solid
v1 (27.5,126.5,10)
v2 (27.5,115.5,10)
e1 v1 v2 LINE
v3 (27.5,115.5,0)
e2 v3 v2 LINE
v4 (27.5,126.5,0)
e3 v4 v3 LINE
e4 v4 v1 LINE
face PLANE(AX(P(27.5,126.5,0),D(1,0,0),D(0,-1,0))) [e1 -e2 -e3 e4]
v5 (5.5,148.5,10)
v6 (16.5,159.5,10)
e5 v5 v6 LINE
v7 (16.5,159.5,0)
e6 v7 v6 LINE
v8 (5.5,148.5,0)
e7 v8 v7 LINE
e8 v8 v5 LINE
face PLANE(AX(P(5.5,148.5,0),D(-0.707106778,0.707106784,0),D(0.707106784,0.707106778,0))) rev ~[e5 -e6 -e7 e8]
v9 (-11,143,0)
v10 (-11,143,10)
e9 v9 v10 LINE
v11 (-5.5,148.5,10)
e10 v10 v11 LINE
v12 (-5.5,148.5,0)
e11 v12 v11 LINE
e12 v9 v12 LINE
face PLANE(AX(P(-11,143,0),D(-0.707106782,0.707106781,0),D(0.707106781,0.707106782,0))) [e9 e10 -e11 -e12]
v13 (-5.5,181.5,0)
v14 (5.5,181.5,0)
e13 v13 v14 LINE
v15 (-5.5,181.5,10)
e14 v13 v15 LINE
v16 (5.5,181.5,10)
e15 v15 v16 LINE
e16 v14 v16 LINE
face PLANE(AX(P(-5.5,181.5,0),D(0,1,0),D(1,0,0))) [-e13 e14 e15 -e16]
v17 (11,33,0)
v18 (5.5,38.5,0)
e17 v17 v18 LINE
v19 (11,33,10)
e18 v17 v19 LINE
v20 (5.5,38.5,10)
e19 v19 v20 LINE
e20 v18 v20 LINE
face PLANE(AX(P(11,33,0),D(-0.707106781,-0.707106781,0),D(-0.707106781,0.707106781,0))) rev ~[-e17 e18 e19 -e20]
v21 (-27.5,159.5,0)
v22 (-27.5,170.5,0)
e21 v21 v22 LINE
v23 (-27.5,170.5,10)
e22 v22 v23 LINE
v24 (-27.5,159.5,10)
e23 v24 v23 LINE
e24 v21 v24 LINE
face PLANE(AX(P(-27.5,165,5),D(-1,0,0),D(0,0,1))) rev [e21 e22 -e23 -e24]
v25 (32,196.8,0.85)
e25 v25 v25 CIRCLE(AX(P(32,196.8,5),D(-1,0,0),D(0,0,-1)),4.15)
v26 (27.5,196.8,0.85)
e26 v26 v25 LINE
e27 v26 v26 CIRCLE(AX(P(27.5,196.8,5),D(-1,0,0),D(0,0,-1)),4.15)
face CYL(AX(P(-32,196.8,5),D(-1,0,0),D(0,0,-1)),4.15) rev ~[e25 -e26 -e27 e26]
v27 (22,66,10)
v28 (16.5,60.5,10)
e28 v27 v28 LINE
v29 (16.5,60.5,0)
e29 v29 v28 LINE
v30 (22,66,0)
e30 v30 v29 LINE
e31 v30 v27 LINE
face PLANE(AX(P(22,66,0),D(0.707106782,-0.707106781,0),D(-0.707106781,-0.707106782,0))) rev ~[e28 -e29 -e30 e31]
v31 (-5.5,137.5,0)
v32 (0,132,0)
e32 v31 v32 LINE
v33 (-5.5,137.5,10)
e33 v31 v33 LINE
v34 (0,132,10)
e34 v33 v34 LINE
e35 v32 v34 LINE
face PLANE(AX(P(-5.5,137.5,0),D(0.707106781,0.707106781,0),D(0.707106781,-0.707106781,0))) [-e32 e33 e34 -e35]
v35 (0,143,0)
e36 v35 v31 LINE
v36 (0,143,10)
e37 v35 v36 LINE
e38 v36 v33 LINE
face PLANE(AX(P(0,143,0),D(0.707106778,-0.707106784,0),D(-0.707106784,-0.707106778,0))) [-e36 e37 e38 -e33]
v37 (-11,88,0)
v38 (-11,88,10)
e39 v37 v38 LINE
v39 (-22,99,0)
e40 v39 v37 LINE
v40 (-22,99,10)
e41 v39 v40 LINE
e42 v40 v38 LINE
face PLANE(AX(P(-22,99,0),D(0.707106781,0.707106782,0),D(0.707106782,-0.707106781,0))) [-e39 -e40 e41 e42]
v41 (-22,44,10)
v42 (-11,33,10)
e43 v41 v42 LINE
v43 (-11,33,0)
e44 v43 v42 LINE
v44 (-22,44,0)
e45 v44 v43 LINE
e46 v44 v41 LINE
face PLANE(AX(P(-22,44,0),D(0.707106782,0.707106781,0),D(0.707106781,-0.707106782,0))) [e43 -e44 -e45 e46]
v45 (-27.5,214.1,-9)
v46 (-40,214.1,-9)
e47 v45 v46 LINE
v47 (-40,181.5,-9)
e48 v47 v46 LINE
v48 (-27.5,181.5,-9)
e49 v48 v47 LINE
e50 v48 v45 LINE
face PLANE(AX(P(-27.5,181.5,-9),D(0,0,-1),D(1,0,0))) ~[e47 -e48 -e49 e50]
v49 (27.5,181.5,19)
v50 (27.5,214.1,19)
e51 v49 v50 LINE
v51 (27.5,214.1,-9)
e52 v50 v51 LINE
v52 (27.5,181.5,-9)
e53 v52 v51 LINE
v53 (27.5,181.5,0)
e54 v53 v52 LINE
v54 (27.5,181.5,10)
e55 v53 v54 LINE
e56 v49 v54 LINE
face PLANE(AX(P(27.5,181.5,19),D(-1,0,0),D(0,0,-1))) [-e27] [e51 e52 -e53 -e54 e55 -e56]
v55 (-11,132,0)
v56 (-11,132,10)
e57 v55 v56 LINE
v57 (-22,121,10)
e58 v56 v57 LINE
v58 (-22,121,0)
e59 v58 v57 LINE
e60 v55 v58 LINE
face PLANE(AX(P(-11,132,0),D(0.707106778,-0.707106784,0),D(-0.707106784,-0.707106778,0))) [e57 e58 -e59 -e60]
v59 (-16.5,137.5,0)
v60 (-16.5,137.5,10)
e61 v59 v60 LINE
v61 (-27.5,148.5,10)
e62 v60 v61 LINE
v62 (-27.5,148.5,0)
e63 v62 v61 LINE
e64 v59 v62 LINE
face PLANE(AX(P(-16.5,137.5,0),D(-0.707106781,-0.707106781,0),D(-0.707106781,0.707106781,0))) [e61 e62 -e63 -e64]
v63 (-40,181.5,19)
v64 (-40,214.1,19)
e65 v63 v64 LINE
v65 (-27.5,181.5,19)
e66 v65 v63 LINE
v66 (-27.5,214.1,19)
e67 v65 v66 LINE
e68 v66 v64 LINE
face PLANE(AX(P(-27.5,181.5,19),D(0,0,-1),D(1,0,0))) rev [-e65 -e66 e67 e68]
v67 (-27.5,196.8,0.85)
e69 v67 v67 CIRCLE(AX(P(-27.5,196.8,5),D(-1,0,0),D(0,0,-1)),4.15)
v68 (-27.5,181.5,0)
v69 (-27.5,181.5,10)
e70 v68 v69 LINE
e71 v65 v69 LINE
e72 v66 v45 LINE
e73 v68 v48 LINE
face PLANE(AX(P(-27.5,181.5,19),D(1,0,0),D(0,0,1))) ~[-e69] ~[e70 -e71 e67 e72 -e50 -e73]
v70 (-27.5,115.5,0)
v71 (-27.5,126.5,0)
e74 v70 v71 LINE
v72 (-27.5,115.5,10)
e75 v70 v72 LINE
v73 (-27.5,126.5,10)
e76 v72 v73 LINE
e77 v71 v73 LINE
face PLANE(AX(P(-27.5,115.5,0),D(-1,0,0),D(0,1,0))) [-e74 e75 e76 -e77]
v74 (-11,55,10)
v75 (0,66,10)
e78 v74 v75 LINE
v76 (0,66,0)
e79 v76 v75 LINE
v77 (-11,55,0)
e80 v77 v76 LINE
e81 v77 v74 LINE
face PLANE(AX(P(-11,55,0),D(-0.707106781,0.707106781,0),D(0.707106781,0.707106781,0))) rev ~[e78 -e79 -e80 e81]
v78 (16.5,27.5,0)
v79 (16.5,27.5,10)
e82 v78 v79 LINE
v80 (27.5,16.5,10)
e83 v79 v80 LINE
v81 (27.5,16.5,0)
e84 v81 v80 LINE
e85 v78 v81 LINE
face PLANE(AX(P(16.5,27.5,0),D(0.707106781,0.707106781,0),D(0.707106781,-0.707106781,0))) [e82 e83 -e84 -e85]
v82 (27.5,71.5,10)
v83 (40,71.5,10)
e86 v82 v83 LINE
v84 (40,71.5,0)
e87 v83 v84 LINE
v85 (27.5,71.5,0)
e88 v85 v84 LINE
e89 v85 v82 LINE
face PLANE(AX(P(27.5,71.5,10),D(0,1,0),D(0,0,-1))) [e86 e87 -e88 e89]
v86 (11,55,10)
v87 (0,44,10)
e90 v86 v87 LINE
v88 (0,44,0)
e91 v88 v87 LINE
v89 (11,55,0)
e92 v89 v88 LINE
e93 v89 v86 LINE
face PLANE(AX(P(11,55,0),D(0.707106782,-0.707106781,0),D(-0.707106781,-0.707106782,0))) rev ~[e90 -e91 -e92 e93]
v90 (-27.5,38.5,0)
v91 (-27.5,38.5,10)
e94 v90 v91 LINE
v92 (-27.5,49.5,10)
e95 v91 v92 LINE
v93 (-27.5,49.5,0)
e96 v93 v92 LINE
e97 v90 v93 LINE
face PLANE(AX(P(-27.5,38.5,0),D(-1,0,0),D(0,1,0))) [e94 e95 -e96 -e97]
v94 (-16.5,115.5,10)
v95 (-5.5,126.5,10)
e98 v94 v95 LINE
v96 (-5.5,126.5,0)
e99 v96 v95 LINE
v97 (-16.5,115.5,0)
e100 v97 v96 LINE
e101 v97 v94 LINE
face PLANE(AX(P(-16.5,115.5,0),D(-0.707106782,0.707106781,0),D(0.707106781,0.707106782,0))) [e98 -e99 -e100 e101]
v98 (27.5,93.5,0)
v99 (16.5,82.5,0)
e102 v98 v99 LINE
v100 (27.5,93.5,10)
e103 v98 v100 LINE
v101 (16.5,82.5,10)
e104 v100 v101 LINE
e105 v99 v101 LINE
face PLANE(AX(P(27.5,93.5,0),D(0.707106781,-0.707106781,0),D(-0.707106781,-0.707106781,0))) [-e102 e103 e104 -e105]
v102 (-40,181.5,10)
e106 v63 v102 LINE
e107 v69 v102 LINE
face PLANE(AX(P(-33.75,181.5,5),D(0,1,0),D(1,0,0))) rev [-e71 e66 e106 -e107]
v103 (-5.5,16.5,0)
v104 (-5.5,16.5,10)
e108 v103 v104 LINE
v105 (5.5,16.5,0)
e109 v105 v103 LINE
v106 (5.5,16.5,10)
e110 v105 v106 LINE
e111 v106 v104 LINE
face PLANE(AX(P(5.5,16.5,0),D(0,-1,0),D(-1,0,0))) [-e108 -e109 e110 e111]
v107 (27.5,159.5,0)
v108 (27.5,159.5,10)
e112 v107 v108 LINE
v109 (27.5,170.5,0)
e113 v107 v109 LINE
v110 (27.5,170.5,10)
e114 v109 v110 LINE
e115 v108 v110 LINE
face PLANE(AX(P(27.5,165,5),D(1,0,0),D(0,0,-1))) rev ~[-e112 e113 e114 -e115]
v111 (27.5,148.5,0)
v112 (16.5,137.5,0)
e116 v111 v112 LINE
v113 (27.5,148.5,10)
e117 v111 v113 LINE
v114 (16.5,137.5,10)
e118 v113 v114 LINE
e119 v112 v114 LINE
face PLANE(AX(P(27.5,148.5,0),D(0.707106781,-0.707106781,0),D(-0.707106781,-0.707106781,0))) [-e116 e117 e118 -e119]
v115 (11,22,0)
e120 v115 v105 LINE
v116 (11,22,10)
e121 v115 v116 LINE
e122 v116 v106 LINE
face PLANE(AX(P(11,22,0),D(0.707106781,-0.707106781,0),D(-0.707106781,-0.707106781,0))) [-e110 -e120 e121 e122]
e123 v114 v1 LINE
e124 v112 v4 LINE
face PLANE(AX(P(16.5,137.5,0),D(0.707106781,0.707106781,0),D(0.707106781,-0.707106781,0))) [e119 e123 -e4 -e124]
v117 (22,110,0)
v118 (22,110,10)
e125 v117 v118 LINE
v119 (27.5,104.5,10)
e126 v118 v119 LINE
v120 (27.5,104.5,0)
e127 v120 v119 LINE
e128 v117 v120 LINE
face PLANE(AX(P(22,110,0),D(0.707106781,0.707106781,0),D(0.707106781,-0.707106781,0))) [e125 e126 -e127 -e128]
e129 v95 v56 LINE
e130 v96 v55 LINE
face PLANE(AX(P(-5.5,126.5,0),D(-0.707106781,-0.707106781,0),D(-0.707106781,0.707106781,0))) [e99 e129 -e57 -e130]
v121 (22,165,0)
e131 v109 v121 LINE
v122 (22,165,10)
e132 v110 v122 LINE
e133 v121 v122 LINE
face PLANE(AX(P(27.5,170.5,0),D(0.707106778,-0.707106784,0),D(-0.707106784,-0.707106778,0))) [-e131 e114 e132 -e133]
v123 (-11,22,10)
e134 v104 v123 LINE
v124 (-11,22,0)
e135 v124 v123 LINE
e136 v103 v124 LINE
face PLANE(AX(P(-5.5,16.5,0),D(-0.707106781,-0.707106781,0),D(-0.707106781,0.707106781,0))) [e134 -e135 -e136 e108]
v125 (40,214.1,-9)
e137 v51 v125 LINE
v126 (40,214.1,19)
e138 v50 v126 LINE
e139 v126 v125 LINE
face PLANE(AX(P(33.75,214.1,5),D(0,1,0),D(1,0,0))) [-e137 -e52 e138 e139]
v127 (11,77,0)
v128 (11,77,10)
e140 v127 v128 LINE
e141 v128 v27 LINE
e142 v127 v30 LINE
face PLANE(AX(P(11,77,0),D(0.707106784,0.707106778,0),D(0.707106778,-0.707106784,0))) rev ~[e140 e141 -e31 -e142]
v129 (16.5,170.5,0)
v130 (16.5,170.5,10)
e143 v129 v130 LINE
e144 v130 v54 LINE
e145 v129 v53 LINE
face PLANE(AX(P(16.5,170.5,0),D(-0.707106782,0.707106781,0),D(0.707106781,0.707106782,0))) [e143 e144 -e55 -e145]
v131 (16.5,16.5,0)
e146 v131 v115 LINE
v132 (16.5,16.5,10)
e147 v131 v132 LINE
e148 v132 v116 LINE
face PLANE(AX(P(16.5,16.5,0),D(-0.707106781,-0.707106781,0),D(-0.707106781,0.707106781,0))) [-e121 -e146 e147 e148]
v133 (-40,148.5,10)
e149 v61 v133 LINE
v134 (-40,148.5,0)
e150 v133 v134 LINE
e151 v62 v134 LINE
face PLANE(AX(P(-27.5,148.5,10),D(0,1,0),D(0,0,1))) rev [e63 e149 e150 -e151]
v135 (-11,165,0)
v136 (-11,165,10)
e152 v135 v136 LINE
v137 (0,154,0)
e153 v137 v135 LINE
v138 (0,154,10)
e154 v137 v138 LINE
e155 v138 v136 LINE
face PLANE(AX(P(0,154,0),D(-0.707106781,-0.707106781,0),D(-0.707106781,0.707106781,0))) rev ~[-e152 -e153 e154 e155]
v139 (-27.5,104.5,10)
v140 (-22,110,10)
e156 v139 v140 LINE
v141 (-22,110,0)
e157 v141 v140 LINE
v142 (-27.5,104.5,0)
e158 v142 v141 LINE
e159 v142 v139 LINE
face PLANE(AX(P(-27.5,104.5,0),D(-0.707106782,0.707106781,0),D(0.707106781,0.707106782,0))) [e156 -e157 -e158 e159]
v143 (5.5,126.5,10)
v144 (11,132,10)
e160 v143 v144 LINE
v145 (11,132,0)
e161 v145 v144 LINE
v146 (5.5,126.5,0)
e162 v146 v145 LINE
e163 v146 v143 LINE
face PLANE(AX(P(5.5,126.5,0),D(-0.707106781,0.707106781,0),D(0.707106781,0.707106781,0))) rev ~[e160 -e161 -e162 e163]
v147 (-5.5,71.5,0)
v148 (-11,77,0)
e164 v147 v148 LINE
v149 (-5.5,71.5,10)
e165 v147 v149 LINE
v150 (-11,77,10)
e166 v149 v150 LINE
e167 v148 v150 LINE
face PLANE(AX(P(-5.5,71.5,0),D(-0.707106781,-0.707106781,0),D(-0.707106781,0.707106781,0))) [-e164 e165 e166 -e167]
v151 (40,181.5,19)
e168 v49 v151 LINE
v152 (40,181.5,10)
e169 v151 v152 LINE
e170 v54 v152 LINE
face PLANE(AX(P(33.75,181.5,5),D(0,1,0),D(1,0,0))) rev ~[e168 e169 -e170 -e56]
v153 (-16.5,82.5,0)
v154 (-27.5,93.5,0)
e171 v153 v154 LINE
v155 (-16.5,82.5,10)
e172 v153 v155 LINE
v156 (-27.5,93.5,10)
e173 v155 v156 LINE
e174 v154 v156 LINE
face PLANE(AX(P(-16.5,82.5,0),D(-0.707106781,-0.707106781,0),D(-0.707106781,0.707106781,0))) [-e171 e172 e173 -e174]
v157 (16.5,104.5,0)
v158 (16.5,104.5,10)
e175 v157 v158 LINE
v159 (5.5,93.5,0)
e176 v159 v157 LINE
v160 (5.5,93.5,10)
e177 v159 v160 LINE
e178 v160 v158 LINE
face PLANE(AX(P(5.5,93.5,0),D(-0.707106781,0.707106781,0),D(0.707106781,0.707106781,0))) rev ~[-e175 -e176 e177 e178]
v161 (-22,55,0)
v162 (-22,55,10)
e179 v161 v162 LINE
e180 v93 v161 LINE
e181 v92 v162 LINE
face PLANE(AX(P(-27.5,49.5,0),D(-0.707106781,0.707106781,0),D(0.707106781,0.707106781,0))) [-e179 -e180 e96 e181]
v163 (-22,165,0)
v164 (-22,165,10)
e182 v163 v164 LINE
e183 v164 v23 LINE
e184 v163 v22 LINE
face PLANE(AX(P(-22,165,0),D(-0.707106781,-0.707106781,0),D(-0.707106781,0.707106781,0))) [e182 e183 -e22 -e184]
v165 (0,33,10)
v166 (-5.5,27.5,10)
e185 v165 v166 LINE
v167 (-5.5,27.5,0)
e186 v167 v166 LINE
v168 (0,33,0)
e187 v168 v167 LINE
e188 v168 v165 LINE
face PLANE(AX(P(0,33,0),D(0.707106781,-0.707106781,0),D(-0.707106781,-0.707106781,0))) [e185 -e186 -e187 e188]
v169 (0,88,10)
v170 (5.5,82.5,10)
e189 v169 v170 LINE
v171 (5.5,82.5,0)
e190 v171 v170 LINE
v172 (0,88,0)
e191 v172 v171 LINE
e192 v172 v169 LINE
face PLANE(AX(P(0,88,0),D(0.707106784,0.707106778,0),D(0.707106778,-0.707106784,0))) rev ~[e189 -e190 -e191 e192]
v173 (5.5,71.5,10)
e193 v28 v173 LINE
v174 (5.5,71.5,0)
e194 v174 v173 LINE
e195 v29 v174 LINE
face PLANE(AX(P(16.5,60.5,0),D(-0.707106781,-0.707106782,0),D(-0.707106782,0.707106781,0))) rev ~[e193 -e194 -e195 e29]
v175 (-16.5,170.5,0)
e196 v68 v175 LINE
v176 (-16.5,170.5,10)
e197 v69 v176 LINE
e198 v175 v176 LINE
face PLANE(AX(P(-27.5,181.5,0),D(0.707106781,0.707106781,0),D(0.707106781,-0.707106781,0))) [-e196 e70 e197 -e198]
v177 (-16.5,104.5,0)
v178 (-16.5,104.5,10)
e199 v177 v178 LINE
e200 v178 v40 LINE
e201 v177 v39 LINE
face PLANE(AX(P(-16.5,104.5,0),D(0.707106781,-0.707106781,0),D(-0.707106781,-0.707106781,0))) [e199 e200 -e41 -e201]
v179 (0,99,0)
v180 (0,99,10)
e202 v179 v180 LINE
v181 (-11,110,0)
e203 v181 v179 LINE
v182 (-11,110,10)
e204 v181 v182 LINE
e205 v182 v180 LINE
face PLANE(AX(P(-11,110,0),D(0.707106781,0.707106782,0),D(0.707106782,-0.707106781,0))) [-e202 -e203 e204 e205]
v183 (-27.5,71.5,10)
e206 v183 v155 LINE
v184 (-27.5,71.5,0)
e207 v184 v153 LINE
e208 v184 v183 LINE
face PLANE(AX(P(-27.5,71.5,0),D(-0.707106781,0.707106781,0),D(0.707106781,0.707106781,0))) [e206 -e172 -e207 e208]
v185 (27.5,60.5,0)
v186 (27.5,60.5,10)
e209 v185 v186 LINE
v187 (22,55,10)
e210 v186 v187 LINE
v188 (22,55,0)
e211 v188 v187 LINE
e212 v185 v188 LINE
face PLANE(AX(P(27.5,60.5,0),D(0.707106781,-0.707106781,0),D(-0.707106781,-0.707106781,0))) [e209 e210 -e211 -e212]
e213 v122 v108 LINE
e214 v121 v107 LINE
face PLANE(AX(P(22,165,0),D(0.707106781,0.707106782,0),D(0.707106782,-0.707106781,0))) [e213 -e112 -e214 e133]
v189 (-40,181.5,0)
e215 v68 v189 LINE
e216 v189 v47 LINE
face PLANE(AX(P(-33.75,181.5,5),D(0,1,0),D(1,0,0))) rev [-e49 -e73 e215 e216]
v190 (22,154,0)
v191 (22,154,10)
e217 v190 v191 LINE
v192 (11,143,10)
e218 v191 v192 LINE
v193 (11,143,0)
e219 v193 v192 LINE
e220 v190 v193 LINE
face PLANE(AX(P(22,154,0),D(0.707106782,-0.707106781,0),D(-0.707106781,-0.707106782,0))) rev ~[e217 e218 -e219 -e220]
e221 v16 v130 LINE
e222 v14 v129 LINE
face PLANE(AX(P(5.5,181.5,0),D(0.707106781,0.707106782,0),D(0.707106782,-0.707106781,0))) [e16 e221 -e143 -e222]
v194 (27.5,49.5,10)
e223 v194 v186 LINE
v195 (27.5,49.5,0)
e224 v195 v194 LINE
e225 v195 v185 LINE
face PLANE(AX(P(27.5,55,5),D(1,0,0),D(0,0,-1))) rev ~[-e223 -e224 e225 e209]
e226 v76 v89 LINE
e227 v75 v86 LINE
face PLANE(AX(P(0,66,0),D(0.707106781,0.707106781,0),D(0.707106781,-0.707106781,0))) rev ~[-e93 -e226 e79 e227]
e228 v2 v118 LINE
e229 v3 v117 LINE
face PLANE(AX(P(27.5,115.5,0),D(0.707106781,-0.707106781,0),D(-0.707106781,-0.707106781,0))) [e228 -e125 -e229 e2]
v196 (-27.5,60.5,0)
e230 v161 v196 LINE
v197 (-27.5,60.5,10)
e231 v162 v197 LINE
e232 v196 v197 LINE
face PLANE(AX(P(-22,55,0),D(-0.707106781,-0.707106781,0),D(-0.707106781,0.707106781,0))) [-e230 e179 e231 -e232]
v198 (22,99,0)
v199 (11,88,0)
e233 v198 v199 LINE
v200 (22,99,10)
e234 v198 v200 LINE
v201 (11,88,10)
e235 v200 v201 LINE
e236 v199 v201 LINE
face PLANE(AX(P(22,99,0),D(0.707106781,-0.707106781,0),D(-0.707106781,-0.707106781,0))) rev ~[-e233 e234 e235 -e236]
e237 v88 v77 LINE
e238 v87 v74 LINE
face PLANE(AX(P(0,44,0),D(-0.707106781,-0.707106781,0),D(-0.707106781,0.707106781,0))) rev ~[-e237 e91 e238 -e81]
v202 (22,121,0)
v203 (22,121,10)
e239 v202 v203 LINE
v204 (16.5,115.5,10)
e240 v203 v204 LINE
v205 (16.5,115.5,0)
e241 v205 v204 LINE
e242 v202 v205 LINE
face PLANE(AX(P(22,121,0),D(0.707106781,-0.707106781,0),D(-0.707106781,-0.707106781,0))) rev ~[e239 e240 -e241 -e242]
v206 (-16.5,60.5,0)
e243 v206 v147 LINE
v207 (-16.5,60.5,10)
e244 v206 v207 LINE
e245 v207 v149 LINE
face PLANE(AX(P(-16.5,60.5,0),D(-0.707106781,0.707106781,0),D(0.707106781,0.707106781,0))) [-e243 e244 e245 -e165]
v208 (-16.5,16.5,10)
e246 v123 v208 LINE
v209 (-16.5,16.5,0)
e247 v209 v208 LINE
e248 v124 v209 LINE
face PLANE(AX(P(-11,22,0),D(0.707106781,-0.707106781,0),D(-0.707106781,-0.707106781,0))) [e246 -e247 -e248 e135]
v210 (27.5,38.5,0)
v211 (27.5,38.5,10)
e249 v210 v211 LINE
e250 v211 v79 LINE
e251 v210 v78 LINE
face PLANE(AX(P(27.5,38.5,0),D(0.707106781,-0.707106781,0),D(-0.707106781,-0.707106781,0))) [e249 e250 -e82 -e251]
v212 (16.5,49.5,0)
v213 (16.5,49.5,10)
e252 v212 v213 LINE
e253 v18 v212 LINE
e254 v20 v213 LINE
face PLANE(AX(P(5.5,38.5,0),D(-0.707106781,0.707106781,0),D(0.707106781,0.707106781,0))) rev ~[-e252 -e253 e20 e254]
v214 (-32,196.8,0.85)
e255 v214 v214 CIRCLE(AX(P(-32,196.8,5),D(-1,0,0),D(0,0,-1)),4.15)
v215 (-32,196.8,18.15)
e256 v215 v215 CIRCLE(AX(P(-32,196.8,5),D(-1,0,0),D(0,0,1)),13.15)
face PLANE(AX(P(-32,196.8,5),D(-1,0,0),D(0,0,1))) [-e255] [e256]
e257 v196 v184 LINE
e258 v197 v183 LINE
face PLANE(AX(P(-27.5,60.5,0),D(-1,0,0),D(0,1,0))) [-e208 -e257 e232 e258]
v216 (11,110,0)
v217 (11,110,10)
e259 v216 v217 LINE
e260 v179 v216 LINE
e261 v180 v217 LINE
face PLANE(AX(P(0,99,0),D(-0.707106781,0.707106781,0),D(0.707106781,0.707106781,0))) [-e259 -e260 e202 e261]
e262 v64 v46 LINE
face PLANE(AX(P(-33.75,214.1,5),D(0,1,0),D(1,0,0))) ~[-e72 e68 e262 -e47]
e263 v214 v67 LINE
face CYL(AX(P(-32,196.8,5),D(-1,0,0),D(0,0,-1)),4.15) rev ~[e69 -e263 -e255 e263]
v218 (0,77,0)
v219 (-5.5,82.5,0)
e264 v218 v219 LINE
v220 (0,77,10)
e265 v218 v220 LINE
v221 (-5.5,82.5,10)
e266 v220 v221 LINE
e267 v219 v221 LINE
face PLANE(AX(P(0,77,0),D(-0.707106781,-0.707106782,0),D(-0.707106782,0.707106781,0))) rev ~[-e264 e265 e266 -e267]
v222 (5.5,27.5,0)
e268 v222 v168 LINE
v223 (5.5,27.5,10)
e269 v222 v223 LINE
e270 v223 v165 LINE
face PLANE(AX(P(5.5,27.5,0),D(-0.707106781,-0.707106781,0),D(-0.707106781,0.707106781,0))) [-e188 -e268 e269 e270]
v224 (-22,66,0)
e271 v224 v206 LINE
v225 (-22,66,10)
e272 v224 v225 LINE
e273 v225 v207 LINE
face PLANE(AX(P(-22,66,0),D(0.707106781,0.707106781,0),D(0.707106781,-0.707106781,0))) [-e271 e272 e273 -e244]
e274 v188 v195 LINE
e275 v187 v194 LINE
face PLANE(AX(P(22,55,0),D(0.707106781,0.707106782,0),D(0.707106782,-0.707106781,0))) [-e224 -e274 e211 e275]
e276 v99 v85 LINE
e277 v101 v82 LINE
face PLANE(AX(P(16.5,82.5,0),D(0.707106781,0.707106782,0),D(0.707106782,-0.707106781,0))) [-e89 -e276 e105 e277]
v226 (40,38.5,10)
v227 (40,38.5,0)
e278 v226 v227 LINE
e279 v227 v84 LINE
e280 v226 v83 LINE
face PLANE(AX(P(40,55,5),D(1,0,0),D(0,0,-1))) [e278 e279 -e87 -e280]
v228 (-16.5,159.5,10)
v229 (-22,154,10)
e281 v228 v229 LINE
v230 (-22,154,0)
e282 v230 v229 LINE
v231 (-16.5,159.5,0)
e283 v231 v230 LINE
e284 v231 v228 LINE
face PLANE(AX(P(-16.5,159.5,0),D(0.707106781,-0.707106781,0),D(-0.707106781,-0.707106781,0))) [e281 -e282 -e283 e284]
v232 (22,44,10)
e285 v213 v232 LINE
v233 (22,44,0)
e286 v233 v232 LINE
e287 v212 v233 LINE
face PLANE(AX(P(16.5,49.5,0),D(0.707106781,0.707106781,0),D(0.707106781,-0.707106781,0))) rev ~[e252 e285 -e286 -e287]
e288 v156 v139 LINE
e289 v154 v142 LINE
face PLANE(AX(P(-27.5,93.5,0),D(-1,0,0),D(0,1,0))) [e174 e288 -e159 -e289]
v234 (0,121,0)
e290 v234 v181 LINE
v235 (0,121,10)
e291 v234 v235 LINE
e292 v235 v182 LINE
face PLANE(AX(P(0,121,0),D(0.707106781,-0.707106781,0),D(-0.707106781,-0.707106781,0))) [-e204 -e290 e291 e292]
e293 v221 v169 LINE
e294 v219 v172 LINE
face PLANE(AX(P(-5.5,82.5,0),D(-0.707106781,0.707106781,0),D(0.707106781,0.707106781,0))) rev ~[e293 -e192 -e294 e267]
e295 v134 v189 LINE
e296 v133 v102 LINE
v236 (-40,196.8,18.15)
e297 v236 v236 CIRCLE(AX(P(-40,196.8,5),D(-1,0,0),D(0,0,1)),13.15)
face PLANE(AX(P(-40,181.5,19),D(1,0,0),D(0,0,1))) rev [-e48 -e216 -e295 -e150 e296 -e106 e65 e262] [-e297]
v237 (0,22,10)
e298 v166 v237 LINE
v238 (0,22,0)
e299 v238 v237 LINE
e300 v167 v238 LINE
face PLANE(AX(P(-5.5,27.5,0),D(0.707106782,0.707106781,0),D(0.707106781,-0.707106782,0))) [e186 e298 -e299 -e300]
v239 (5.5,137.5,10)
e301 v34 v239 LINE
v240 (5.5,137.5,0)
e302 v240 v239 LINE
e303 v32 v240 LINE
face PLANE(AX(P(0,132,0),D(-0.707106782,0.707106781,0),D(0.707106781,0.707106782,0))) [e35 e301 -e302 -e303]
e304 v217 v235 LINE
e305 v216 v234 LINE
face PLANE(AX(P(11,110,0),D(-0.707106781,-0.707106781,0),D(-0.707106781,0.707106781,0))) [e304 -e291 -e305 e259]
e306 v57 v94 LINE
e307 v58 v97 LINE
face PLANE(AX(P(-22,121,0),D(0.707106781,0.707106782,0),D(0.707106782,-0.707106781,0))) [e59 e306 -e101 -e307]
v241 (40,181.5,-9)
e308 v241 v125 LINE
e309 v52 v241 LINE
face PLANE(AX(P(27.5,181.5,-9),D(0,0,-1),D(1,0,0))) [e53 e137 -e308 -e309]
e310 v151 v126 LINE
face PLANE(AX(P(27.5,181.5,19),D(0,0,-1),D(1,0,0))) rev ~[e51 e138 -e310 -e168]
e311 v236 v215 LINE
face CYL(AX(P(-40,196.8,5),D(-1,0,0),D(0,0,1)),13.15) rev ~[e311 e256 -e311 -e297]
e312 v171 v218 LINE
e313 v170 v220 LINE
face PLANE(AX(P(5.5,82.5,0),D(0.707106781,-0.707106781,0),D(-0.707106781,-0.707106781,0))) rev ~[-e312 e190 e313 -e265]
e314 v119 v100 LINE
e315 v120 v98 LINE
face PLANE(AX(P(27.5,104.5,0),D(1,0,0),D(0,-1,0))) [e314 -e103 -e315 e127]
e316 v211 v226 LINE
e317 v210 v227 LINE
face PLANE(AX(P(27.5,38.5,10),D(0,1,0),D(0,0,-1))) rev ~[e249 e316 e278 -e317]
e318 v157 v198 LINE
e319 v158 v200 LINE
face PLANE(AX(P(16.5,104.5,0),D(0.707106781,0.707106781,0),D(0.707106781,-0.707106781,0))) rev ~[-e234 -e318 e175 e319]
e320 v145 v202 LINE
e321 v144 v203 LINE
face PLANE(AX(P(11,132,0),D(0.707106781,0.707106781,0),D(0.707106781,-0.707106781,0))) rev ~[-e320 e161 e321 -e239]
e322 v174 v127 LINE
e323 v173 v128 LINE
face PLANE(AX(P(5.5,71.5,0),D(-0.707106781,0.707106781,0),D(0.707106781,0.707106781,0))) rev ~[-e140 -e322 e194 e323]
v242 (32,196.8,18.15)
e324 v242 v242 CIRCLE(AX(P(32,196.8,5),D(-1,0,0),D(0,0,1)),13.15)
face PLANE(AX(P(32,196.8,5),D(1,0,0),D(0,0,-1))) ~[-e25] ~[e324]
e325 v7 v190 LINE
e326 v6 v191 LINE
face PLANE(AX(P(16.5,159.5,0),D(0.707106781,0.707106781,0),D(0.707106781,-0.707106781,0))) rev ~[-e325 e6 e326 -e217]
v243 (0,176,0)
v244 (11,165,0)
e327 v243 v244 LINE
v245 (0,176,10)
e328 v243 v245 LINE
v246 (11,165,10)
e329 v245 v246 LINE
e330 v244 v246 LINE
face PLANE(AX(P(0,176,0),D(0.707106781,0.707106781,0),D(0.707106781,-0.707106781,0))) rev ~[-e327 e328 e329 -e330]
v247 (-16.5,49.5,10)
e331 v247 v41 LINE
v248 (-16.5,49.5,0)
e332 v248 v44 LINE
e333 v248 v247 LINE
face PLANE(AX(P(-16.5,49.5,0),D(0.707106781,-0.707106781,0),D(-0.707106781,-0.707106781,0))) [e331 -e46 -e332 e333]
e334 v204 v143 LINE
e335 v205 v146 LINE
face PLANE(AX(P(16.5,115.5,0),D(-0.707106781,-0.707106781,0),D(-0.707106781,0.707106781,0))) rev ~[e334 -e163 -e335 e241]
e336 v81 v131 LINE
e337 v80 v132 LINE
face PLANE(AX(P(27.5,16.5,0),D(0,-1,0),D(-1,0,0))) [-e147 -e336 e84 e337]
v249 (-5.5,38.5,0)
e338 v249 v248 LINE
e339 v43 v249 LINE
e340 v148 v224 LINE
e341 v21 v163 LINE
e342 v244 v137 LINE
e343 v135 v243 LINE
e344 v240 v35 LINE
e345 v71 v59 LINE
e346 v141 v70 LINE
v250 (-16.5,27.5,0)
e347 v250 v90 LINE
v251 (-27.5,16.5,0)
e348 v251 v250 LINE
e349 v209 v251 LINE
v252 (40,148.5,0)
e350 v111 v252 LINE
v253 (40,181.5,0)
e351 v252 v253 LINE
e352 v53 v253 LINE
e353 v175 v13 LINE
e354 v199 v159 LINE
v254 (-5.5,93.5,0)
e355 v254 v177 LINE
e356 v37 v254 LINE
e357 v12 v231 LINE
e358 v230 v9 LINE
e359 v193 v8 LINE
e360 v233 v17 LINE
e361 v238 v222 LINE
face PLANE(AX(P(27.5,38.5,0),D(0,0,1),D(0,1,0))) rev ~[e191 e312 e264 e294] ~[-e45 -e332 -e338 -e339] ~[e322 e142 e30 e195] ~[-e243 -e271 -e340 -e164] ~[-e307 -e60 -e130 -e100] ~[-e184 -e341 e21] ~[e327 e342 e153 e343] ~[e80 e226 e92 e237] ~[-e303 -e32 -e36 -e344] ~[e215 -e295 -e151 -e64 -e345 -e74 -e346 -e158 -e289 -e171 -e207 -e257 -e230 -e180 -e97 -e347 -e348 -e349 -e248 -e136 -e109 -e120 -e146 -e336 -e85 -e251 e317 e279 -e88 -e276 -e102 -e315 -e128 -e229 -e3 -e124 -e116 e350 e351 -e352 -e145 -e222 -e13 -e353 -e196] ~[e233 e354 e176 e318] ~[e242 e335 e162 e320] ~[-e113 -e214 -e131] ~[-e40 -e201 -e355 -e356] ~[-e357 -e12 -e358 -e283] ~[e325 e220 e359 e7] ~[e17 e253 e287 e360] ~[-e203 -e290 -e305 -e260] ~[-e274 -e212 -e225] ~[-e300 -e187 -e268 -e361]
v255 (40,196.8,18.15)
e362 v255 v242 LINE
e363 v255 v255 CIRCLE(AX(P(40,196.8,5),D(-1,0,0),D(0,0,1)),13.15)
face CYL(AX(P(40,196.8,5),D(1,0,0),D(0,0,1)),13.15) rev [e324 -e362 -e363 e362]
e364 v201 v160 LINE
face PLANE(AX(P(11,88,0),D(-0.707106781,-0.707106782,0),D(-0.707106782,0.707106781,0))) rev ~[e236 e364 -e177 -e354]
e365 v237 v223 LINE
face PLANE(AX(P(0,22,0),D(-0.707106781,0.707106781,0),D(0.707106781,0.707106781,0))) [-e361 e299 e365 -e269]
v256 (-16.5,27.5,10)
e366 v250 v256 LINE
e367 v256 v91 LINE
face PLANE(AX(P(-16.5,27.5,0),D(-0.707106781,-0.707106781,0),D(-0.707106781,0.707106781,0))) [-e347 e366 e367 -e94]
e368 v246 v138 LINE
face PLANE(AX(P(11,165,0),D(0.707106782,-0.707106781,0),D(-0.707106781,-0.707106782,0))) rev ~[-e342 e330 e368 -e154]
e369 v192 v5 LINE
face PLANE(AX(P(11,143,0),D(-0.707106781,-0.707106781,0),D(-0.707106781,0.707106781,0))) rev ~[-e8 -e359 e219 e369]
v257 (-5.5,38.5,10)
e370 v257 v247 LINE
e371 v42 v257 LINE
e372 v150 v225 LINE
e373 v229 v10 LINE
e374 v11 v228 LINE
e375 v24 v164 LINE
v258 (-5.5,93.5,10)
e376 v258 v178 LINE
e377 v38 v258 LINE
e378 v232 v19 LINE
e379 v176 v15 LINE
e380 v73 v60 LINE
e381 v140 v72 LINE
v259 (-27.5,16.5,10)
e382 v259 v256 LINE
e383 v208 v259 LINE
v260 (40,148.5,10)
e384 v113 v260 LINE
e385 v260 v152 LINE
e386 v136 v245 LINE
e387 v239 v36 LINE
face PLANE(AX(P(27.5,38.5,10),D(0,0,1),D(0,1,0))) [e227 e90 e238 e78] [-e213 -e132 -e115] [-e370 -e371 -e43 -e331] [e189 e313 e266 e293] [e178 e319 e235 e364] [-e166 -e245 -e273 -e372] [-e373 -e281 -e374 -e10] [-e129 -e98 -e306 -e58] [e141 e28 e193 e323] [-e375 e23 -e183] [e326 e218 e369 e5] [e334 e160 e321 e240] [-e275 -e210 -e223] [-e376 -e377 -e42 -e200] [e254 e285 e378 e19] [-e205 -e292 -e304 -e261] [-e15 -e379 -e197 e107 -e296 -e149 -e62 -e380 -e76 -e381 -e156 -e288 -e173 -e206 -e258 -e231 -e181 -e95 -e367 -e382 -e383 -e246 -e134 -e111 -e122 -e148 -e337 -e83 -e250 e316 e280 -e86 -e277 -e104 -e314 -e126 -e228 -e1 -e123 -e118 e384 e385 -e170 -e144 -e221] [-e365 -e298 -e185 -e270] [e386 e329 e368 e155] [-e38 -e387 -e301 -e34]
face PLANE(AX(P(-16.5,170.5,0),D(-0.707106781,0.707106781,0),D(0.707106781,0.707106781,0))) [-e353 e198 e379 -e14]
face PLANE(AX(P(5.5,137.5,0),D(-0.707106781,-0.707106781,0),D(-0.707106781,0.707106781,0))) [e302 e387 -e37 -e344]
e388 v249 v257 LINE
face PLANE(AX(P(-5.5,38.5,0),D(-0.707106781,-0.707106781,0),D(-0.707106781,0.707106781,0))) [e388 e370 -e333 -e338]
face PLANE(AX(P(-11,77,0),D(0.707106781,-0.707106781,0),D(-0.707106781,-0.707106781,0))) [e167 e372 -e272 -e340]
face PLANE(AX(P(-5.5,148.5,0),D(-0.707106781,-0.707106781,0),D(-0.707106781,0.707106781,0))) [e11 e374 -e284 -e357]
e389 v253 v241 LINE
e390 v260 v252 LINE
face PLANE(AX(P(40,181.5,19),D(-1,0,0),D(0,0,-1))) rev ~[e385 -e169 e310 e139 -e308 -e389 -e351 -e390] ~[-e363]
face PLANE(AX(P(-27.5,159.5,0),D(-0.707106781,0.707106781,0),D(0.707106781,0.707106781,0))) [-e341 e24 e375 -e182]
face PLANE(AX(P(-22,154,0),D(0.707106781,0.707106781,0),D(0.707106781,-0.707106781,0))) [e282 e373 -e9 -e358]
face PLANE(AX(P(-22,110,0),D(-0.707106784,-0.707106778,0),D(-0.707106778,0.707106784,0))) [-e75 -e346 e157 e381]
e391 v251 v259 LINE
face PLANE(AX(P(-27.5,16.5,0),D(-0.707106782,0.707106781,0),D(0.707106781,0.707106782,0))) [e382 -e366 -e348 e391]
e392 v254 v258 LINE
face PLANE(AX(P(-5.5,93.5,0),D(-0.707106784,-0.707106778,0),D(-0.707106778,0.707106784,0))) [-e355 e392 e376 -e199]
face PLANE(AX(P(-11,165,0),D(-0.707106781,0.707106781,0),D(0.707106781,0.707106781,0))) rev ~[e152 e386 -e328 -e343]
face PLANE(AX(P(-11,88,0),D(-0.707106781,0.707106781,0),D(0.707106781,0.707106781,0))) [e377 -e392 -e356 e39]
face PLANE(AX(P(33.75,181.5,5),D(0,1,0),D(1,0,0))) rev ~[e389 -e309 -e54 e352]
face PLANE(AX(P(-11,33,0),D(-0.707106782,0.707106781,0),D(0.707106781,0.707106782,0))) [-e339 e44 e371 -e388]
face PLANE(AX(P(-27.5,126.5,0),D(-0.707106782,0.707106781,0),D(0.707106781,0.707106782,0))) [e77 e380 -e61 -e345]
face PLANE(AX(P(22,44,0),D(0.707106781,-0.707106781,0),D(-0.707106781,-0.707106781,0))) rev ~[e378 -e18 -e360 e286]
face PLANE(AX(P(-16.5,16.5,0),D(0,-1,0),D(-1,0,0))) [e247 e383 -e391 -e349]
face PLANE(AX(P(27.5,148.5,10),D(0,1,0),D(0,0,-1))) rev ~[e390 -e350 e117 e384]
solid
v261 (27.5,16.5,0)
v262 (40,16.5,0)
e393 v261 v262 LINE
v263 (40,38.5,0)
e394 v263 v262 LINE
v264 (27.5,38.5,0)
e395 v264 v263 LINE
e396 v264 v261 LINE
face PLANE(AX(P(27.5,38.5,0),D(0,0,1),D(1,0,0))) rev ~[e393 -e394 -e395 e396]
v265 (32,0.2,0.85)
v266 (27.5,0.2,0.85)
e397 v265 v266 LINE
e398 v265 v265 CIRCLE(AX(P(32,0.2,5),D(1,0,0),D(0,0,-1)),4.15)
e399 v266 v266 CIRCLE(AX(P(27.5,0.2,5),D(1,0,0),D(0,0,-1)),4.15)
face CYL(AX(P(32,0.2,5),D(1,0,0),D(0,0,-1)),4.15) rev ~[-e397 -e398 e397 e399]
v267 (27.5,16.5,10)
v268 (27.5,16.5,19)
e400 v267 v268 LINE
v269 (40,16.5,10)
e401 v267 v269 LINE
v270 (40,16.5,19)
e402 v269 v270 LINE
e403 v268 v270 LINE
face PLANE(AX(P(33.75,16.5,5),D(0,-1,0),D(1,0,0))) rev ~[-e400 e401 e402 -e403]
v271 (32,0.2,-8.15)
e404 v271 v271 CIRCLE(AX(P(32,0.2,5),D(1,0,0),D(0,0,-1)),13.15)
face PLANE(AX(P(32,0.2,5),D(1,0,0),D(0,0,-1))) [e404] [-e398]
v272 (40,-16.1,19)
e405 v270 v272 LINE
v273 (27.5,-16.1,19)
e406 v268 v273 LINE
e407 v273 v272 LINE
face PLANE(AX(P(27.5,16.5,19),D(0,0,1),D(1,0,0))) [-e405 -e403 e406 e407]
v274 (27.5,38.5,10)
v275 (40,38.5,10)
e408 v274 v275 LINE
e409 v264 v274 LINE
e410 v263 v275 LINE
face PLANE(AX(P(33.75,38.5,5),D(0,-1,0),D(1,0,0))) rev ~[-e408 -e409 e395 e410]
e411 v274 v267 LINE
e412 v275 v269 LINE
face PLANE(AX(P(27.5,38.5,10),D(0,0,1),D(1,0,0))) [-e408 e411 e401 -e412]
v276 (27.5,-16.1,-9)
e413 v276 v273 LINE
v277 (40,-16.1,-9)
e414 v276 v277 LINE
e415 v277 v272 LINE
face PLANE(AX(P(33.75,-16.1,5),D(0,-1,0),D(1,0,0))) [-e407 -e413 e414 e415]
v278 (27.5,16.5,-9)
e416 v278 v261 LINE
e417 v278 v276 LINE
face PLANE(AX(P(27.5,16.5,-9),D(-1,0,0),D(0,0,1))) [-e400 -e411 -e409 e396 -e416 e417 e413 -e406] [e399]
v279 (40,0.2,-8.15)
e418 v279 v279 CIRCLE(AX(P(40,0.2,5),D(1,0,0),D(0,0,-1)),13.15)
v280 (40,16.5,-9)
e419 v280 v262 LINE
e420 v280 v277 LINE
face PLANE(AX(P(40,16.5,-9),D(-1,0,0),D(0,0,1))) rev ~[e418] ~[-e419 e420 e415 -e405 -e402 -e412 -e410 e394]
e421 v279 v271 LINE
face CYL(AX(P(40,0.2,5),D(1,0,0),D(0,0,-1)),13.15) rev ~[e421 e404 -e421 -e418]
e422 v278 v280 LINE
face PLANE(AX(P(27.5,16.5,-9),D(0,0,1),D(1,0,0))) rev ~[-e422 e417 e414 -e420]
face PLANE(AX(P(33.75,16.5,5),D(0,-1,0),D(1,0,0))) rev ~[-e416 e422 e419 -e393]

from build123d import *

# Parameters (mm, degrees)
BOSS_EXTRUDE1_DEPTH  = 10
SKETCH3_W            = 10
SKETCH3_H            = 33.000000074
BOSS_EXTRUDE3_DEPTH  = 12.5
SKETCH4_W            = 12.5
SKETCH4_H            = 28
BOSS_EXTRUDE4_DEPTH  = 32.6
SKETCH6_R            = 13.15
CUT_EXTRUDE2_DEPTH   = 8
SKETCH7_R            = 4.15
CUT_EXTRUDE3_DEPTH   = 227.679972726
SKETCH8_W            = 10
SKETCH8_H            = 32.999999987
BOSS_EXTRUDE6_DEPTH  = 12.5
SKETCH9_W            = 12.5
SKETCH9_H            = 10
BOSS_EXTRUDE9_DEPTH  = 22
SKETCH10_W           = 12.5
SKETCH10_H           = 28
BOSS_EXTRUDE10_DEPTH = 32.6
SKETCH12_R           = 13.15
CUT_EXTRUDE4_DEPTH   = 8
SKETCH13_R           = 4.15
CUT_EXTRUDE5_DEPTH   = 8


with BuildPart() as part:
    # Sketch2 → Boss-Extrude1 (new body)
    with BuildSketch(Plane.XY):
        Polygon((-27.500000006, 170.499999994), (-27.500000006, 181.499999994), (-16.500000002, 170.499999998), (-5.499999969, 181.500000031), (5.500000025, 181.500000031), (16.500000011, 170.500000056), (27.500000013, 181.500000073), (27.500000013, 170.500000022), (22.000000007, 165.000000067), (27.500000013, 159.500000067), (27.500000013, 148.499999999), (16.500000017, 137.500000003), (27.500000013, 126.500000014), (27.500000013, 115.499999993), (22.000000001, 109.999999981), (27.500000013, 104.499999969), (27.500000013, 93.499999996), (16.500000007, 82.49999999), (27.500000013, 71.499999999), (27.500000013, 60.500000004), (22.000000008, 54.999999998), (27.500000013, 49.499999999), (27.500000013, 38.500000012), (16.499999997, 27.499999996), (27.5, 16.5), (16.500000019, 16.5), (11.000000008, 22.000000007), (5.500000001, 16.5), (-5.500000011, 16.5), (-11.000000001, 21.99999999), (-16.499999991, 16.5), (-27.5, 16.5), (-16.500000013, 27.500000002), (-27.500000006, 38.499999994), (-27.500000006, 49.499999994), (-22.000000004, 54.999999996), (-27.500000006, 60.499999994), (-27.500000006, 71.499999994), (-16.500000006, 82.500000002), (-27.500000006, 93.499999994), (-27.500000006, 104.499999994), (-22.000000034, 109.999999972), (-27.500000006, 115.499999994), (-27.500000006, 126.49999998), (-16.500000006, 137.499999995), (-27.500000006, 148.499999994), (-27.500000006, 159.499999994), (-22.000000006, 164.999999994), align=None)
        Polygon((21.999999977, 121.000000012), (16.499999976, 115.500000007), (5.499999998, 126.499999984), (11.000000002, 131.999999987), align=None, mode=Mode.SUBTRACT)
        Polygon((-22.000000007, 65.999999973), (-16.500000015, 60.499999985), (-5.499999998, 71.500000002), (-10.99999999, 76.99999999), align=None, mode=Mode.SUBTRACT)
        Polygon((-5.5e-08, 175.999999934), (10.999999921, 164.999999958), (-7e-09, 154.000000015), (-10.999999994, 164.999999995), align=None, mode=Mode.SUBTRACT)
        Polygon((21.999999912, 153.999999967), (10.999999987, 143.000000029), (5.4999999, 148.500000112), (16.499999884, 159.499999995), align=None, mode=Mode.SUBTRACT)
        Polygon((-22.000000014, 98.999999972), (-11.000000021, 87.999999991), (-5.500000115, 93.499999901), (-16.500000049, 104.499999937), align=None, mode=Mode.SUBTRACT)
        Polygon((-22.00000026, 121.000000206), (-16.50000003, 115.499999982), (-5.500000018, 126.500000007), (-11.000000188, 132.000000177), align=None, mode=Mode.SUBTRACT)
        Polygon((21.999999733, 65.999999799), (16.49999997, 60.50000003), (5.500000002, 71.499999986), (10.999999825, 76.999999808), align=None, mode=Mode.SUBTRACT)
        Polygon((-22.000000004, 153.999999986), (-11.000000013, 142.999999995), (-5.500000013, 148.500000002), (-16.5, 159.499999989), align=None, mode=Mode.SUBTRACT)
        Polygon((21.999999994, 98.999999994), (10.999999995, 87.999999995), (5.500000001, 93.499999981), (16.500000004, 104.499999985), align=None, mode=Mode.SUBTRACT)
        Polygon((-21.999999984, 43.999999999), (-11.00000001, 33.000000012), (-5.500000013, 38.500000017), (-16.499999993, 49.49999999), align=None, mode=Mode.SUBTRACT)
        Polygon((22.00000002, 44.000000003), (11.000000003, 32.999999986), (5.499999997, 38.499999988), (16.500000015, 49.500000005), align=None, mode=Mode.SUBTRACT)
        Polygon((10.999999982, 55.000000034), (-2.8e-08, 44.000000009), (-11.000000005, 54.999999978), (1.3e-08, 65.999999996), align=None, mode=Mode.SUBTRACT)
        Polygon((-11.000000013, 109.999999973), (-2.2e-08, 98.999999997), (10.999999981, 110.000000008), (2e-09, 120.999999987), align=None, mode=Mode.SUBTRACT)
        Polygon((-5.499999998, 27.499999993), (3e-09, 21.999999986), (5.500000014, 27.499999998), (9e-09, 32.999999999), align=None, mode=Mode.SUBTRACT)
        Polygon((5.499999842, 82.499999842), (-9e-09, 76.999999991), (-5.500000002, 82.499999978), (-1.23e-07, 87.999999858), align=None, mode=Mode.SUBTRACT)
        Polygon((-5.500000166, 137.500000148), (-2.4e-08, 132.000000006), (5.499999976, 137.500000013), (-1.37e-07, 143.000000126), align=None, mode=Mode.SUBTRACT)
    extrude(amount=BOSS_EXTRUDE1_DEPTH)

    # Sketch3 → Boss-Extrude3 (add)
    with BuildSketch(Plane(origin=(27.500000013, 0, 0), x_dir=(0, 0, -1), z_dir=(1, 0, 0))):
        with Locations((-5, 165.000000036)):
            Rectangle(SKETCH3_W, SKETCH3_H)
    boss_extrude3 = extrude(amount=BOSS_EXTRUDE3_DEPTH)

    # Mirror1: Boss-Extrude3 across plane
    add(boss_extrude3.mirror(Plane(origin=(0, 0, 0), x_dir=(0, 0, 1), z_dir=(1, 0, 0))))

    # Sketch4 → Boss-Extrude4 (add)
    with BuildSketch(Plane(origin=(0, 181.500000073, 0), x_dir=(1, 0, 0), z_dir=(0, 1, 0))):
        with Locations((33.750000013, -5)):
            Rectangle(SKETCH4_W, SKETCH4_H)
    boss_extrude4 = extrude(amount=BOSS_EXTRUDE4_DEPTH)

    # Mirror2: Boss-Extrude4 across plane
    add(boss_extrude4.mirror(Plane(origin=(0, 0, 0), x_dir=(0, 0, 1), z_dir=(1, 0, 0))))

    # Sketch6 → Cut-Extrude2 (cut)
    with BuildSketch(Plane.ZY.offset(40.000000013)):
        with Locations((5, 196.800000073)):
            Circle(SKETCH6_R)
    cut_extrude2 = extrude(amount=-CUT_EXTRUDE2_DEPTH, mode=Mode.SUBTRACT)

    # Mirror3: Cut-Extrude2 across plane
    add(cut_extrude2.mirror(Plane(origin=(0, 0, 0), x_dir=(0, 0, 1), z_dir=(1, 0, 0))), mode=Mode.SUBTRACT)

    # Sketch7 → Cut-Extrude3 (cut, through all)
    with BuildSketch(Plane.ZY.offset(32.000000013)):
        with Locations((5, 196.800000073)):
            Circle(SKETCH7_R)
    extrude(amount=-CUT_EXTRUDE3_DEPTH, mode=Mode.SUBTRACT)

    # Sketch8 → Boss-Extrude6 (add)
    with BuildSketch(Plane(origin=(27.500000013, 0, 0), x_dir=(0, 0, -1), z_dir=(1, 0, 0))):
        with Locations((-5, 55.000000006)):
            Rectangle(SKETCH8_W, SKETCH8_H)
    extrude(amount=BOSS_EXTRUDE6_DEPTH)


with BuildPart() as body_2:
    # Sketch9 → Boss-Extrude9 (new body)
    with BuildSketch(Plane.XZ.offset(-38.500000012)):
        with Locations((33.750000013, 5)):
            Rectangle(SKETCH9_W, SKETCH9_H)
    extrude(amount=BOSS_EXTRUDE9_DEPTH)

    # Sketch10 → Boss-Extrude10 (add)
    with BuildSketch(Plane.XZ.offset(-16.500000012)):
        with Locations((33.750000013, 5)):
            Rectangle(SKETCH10_W, SKETCH10_H)
    extrude(amount=BOSS_EXTRUDE10_DEPTH)

    # Sketch12 → Cut-Extrude4 (cut)
    with BuildSketch(Plane(origin=(40.000000013, 0, 0), x_dir=(0, 0, -1), z_dir=(1, 0, 0))):
        with Locations((-5, 0.200000012)):
            Circle(SKETCH12_R)
    extrude(amount=-CUT_EXTRUDE4_DEPTH, mode=Mode.SUBTRACT)

    # Sketch13 → Cut-Extrude5 (cut)
    with BuildSketch(Plane(origin=(32.000000013, 0, 0), x_dir=(0, 0, -1), z_dir=(1, 0, 0))):
        with Locations((-5, 0.200000012)):
            Circle(SKETCH13_R)
    extrude(amount=-CUT_EXTRUDE5_DEPTH, mode=Mode.SUBTRACT)


solid = Compound([part.part, body_2.part])
